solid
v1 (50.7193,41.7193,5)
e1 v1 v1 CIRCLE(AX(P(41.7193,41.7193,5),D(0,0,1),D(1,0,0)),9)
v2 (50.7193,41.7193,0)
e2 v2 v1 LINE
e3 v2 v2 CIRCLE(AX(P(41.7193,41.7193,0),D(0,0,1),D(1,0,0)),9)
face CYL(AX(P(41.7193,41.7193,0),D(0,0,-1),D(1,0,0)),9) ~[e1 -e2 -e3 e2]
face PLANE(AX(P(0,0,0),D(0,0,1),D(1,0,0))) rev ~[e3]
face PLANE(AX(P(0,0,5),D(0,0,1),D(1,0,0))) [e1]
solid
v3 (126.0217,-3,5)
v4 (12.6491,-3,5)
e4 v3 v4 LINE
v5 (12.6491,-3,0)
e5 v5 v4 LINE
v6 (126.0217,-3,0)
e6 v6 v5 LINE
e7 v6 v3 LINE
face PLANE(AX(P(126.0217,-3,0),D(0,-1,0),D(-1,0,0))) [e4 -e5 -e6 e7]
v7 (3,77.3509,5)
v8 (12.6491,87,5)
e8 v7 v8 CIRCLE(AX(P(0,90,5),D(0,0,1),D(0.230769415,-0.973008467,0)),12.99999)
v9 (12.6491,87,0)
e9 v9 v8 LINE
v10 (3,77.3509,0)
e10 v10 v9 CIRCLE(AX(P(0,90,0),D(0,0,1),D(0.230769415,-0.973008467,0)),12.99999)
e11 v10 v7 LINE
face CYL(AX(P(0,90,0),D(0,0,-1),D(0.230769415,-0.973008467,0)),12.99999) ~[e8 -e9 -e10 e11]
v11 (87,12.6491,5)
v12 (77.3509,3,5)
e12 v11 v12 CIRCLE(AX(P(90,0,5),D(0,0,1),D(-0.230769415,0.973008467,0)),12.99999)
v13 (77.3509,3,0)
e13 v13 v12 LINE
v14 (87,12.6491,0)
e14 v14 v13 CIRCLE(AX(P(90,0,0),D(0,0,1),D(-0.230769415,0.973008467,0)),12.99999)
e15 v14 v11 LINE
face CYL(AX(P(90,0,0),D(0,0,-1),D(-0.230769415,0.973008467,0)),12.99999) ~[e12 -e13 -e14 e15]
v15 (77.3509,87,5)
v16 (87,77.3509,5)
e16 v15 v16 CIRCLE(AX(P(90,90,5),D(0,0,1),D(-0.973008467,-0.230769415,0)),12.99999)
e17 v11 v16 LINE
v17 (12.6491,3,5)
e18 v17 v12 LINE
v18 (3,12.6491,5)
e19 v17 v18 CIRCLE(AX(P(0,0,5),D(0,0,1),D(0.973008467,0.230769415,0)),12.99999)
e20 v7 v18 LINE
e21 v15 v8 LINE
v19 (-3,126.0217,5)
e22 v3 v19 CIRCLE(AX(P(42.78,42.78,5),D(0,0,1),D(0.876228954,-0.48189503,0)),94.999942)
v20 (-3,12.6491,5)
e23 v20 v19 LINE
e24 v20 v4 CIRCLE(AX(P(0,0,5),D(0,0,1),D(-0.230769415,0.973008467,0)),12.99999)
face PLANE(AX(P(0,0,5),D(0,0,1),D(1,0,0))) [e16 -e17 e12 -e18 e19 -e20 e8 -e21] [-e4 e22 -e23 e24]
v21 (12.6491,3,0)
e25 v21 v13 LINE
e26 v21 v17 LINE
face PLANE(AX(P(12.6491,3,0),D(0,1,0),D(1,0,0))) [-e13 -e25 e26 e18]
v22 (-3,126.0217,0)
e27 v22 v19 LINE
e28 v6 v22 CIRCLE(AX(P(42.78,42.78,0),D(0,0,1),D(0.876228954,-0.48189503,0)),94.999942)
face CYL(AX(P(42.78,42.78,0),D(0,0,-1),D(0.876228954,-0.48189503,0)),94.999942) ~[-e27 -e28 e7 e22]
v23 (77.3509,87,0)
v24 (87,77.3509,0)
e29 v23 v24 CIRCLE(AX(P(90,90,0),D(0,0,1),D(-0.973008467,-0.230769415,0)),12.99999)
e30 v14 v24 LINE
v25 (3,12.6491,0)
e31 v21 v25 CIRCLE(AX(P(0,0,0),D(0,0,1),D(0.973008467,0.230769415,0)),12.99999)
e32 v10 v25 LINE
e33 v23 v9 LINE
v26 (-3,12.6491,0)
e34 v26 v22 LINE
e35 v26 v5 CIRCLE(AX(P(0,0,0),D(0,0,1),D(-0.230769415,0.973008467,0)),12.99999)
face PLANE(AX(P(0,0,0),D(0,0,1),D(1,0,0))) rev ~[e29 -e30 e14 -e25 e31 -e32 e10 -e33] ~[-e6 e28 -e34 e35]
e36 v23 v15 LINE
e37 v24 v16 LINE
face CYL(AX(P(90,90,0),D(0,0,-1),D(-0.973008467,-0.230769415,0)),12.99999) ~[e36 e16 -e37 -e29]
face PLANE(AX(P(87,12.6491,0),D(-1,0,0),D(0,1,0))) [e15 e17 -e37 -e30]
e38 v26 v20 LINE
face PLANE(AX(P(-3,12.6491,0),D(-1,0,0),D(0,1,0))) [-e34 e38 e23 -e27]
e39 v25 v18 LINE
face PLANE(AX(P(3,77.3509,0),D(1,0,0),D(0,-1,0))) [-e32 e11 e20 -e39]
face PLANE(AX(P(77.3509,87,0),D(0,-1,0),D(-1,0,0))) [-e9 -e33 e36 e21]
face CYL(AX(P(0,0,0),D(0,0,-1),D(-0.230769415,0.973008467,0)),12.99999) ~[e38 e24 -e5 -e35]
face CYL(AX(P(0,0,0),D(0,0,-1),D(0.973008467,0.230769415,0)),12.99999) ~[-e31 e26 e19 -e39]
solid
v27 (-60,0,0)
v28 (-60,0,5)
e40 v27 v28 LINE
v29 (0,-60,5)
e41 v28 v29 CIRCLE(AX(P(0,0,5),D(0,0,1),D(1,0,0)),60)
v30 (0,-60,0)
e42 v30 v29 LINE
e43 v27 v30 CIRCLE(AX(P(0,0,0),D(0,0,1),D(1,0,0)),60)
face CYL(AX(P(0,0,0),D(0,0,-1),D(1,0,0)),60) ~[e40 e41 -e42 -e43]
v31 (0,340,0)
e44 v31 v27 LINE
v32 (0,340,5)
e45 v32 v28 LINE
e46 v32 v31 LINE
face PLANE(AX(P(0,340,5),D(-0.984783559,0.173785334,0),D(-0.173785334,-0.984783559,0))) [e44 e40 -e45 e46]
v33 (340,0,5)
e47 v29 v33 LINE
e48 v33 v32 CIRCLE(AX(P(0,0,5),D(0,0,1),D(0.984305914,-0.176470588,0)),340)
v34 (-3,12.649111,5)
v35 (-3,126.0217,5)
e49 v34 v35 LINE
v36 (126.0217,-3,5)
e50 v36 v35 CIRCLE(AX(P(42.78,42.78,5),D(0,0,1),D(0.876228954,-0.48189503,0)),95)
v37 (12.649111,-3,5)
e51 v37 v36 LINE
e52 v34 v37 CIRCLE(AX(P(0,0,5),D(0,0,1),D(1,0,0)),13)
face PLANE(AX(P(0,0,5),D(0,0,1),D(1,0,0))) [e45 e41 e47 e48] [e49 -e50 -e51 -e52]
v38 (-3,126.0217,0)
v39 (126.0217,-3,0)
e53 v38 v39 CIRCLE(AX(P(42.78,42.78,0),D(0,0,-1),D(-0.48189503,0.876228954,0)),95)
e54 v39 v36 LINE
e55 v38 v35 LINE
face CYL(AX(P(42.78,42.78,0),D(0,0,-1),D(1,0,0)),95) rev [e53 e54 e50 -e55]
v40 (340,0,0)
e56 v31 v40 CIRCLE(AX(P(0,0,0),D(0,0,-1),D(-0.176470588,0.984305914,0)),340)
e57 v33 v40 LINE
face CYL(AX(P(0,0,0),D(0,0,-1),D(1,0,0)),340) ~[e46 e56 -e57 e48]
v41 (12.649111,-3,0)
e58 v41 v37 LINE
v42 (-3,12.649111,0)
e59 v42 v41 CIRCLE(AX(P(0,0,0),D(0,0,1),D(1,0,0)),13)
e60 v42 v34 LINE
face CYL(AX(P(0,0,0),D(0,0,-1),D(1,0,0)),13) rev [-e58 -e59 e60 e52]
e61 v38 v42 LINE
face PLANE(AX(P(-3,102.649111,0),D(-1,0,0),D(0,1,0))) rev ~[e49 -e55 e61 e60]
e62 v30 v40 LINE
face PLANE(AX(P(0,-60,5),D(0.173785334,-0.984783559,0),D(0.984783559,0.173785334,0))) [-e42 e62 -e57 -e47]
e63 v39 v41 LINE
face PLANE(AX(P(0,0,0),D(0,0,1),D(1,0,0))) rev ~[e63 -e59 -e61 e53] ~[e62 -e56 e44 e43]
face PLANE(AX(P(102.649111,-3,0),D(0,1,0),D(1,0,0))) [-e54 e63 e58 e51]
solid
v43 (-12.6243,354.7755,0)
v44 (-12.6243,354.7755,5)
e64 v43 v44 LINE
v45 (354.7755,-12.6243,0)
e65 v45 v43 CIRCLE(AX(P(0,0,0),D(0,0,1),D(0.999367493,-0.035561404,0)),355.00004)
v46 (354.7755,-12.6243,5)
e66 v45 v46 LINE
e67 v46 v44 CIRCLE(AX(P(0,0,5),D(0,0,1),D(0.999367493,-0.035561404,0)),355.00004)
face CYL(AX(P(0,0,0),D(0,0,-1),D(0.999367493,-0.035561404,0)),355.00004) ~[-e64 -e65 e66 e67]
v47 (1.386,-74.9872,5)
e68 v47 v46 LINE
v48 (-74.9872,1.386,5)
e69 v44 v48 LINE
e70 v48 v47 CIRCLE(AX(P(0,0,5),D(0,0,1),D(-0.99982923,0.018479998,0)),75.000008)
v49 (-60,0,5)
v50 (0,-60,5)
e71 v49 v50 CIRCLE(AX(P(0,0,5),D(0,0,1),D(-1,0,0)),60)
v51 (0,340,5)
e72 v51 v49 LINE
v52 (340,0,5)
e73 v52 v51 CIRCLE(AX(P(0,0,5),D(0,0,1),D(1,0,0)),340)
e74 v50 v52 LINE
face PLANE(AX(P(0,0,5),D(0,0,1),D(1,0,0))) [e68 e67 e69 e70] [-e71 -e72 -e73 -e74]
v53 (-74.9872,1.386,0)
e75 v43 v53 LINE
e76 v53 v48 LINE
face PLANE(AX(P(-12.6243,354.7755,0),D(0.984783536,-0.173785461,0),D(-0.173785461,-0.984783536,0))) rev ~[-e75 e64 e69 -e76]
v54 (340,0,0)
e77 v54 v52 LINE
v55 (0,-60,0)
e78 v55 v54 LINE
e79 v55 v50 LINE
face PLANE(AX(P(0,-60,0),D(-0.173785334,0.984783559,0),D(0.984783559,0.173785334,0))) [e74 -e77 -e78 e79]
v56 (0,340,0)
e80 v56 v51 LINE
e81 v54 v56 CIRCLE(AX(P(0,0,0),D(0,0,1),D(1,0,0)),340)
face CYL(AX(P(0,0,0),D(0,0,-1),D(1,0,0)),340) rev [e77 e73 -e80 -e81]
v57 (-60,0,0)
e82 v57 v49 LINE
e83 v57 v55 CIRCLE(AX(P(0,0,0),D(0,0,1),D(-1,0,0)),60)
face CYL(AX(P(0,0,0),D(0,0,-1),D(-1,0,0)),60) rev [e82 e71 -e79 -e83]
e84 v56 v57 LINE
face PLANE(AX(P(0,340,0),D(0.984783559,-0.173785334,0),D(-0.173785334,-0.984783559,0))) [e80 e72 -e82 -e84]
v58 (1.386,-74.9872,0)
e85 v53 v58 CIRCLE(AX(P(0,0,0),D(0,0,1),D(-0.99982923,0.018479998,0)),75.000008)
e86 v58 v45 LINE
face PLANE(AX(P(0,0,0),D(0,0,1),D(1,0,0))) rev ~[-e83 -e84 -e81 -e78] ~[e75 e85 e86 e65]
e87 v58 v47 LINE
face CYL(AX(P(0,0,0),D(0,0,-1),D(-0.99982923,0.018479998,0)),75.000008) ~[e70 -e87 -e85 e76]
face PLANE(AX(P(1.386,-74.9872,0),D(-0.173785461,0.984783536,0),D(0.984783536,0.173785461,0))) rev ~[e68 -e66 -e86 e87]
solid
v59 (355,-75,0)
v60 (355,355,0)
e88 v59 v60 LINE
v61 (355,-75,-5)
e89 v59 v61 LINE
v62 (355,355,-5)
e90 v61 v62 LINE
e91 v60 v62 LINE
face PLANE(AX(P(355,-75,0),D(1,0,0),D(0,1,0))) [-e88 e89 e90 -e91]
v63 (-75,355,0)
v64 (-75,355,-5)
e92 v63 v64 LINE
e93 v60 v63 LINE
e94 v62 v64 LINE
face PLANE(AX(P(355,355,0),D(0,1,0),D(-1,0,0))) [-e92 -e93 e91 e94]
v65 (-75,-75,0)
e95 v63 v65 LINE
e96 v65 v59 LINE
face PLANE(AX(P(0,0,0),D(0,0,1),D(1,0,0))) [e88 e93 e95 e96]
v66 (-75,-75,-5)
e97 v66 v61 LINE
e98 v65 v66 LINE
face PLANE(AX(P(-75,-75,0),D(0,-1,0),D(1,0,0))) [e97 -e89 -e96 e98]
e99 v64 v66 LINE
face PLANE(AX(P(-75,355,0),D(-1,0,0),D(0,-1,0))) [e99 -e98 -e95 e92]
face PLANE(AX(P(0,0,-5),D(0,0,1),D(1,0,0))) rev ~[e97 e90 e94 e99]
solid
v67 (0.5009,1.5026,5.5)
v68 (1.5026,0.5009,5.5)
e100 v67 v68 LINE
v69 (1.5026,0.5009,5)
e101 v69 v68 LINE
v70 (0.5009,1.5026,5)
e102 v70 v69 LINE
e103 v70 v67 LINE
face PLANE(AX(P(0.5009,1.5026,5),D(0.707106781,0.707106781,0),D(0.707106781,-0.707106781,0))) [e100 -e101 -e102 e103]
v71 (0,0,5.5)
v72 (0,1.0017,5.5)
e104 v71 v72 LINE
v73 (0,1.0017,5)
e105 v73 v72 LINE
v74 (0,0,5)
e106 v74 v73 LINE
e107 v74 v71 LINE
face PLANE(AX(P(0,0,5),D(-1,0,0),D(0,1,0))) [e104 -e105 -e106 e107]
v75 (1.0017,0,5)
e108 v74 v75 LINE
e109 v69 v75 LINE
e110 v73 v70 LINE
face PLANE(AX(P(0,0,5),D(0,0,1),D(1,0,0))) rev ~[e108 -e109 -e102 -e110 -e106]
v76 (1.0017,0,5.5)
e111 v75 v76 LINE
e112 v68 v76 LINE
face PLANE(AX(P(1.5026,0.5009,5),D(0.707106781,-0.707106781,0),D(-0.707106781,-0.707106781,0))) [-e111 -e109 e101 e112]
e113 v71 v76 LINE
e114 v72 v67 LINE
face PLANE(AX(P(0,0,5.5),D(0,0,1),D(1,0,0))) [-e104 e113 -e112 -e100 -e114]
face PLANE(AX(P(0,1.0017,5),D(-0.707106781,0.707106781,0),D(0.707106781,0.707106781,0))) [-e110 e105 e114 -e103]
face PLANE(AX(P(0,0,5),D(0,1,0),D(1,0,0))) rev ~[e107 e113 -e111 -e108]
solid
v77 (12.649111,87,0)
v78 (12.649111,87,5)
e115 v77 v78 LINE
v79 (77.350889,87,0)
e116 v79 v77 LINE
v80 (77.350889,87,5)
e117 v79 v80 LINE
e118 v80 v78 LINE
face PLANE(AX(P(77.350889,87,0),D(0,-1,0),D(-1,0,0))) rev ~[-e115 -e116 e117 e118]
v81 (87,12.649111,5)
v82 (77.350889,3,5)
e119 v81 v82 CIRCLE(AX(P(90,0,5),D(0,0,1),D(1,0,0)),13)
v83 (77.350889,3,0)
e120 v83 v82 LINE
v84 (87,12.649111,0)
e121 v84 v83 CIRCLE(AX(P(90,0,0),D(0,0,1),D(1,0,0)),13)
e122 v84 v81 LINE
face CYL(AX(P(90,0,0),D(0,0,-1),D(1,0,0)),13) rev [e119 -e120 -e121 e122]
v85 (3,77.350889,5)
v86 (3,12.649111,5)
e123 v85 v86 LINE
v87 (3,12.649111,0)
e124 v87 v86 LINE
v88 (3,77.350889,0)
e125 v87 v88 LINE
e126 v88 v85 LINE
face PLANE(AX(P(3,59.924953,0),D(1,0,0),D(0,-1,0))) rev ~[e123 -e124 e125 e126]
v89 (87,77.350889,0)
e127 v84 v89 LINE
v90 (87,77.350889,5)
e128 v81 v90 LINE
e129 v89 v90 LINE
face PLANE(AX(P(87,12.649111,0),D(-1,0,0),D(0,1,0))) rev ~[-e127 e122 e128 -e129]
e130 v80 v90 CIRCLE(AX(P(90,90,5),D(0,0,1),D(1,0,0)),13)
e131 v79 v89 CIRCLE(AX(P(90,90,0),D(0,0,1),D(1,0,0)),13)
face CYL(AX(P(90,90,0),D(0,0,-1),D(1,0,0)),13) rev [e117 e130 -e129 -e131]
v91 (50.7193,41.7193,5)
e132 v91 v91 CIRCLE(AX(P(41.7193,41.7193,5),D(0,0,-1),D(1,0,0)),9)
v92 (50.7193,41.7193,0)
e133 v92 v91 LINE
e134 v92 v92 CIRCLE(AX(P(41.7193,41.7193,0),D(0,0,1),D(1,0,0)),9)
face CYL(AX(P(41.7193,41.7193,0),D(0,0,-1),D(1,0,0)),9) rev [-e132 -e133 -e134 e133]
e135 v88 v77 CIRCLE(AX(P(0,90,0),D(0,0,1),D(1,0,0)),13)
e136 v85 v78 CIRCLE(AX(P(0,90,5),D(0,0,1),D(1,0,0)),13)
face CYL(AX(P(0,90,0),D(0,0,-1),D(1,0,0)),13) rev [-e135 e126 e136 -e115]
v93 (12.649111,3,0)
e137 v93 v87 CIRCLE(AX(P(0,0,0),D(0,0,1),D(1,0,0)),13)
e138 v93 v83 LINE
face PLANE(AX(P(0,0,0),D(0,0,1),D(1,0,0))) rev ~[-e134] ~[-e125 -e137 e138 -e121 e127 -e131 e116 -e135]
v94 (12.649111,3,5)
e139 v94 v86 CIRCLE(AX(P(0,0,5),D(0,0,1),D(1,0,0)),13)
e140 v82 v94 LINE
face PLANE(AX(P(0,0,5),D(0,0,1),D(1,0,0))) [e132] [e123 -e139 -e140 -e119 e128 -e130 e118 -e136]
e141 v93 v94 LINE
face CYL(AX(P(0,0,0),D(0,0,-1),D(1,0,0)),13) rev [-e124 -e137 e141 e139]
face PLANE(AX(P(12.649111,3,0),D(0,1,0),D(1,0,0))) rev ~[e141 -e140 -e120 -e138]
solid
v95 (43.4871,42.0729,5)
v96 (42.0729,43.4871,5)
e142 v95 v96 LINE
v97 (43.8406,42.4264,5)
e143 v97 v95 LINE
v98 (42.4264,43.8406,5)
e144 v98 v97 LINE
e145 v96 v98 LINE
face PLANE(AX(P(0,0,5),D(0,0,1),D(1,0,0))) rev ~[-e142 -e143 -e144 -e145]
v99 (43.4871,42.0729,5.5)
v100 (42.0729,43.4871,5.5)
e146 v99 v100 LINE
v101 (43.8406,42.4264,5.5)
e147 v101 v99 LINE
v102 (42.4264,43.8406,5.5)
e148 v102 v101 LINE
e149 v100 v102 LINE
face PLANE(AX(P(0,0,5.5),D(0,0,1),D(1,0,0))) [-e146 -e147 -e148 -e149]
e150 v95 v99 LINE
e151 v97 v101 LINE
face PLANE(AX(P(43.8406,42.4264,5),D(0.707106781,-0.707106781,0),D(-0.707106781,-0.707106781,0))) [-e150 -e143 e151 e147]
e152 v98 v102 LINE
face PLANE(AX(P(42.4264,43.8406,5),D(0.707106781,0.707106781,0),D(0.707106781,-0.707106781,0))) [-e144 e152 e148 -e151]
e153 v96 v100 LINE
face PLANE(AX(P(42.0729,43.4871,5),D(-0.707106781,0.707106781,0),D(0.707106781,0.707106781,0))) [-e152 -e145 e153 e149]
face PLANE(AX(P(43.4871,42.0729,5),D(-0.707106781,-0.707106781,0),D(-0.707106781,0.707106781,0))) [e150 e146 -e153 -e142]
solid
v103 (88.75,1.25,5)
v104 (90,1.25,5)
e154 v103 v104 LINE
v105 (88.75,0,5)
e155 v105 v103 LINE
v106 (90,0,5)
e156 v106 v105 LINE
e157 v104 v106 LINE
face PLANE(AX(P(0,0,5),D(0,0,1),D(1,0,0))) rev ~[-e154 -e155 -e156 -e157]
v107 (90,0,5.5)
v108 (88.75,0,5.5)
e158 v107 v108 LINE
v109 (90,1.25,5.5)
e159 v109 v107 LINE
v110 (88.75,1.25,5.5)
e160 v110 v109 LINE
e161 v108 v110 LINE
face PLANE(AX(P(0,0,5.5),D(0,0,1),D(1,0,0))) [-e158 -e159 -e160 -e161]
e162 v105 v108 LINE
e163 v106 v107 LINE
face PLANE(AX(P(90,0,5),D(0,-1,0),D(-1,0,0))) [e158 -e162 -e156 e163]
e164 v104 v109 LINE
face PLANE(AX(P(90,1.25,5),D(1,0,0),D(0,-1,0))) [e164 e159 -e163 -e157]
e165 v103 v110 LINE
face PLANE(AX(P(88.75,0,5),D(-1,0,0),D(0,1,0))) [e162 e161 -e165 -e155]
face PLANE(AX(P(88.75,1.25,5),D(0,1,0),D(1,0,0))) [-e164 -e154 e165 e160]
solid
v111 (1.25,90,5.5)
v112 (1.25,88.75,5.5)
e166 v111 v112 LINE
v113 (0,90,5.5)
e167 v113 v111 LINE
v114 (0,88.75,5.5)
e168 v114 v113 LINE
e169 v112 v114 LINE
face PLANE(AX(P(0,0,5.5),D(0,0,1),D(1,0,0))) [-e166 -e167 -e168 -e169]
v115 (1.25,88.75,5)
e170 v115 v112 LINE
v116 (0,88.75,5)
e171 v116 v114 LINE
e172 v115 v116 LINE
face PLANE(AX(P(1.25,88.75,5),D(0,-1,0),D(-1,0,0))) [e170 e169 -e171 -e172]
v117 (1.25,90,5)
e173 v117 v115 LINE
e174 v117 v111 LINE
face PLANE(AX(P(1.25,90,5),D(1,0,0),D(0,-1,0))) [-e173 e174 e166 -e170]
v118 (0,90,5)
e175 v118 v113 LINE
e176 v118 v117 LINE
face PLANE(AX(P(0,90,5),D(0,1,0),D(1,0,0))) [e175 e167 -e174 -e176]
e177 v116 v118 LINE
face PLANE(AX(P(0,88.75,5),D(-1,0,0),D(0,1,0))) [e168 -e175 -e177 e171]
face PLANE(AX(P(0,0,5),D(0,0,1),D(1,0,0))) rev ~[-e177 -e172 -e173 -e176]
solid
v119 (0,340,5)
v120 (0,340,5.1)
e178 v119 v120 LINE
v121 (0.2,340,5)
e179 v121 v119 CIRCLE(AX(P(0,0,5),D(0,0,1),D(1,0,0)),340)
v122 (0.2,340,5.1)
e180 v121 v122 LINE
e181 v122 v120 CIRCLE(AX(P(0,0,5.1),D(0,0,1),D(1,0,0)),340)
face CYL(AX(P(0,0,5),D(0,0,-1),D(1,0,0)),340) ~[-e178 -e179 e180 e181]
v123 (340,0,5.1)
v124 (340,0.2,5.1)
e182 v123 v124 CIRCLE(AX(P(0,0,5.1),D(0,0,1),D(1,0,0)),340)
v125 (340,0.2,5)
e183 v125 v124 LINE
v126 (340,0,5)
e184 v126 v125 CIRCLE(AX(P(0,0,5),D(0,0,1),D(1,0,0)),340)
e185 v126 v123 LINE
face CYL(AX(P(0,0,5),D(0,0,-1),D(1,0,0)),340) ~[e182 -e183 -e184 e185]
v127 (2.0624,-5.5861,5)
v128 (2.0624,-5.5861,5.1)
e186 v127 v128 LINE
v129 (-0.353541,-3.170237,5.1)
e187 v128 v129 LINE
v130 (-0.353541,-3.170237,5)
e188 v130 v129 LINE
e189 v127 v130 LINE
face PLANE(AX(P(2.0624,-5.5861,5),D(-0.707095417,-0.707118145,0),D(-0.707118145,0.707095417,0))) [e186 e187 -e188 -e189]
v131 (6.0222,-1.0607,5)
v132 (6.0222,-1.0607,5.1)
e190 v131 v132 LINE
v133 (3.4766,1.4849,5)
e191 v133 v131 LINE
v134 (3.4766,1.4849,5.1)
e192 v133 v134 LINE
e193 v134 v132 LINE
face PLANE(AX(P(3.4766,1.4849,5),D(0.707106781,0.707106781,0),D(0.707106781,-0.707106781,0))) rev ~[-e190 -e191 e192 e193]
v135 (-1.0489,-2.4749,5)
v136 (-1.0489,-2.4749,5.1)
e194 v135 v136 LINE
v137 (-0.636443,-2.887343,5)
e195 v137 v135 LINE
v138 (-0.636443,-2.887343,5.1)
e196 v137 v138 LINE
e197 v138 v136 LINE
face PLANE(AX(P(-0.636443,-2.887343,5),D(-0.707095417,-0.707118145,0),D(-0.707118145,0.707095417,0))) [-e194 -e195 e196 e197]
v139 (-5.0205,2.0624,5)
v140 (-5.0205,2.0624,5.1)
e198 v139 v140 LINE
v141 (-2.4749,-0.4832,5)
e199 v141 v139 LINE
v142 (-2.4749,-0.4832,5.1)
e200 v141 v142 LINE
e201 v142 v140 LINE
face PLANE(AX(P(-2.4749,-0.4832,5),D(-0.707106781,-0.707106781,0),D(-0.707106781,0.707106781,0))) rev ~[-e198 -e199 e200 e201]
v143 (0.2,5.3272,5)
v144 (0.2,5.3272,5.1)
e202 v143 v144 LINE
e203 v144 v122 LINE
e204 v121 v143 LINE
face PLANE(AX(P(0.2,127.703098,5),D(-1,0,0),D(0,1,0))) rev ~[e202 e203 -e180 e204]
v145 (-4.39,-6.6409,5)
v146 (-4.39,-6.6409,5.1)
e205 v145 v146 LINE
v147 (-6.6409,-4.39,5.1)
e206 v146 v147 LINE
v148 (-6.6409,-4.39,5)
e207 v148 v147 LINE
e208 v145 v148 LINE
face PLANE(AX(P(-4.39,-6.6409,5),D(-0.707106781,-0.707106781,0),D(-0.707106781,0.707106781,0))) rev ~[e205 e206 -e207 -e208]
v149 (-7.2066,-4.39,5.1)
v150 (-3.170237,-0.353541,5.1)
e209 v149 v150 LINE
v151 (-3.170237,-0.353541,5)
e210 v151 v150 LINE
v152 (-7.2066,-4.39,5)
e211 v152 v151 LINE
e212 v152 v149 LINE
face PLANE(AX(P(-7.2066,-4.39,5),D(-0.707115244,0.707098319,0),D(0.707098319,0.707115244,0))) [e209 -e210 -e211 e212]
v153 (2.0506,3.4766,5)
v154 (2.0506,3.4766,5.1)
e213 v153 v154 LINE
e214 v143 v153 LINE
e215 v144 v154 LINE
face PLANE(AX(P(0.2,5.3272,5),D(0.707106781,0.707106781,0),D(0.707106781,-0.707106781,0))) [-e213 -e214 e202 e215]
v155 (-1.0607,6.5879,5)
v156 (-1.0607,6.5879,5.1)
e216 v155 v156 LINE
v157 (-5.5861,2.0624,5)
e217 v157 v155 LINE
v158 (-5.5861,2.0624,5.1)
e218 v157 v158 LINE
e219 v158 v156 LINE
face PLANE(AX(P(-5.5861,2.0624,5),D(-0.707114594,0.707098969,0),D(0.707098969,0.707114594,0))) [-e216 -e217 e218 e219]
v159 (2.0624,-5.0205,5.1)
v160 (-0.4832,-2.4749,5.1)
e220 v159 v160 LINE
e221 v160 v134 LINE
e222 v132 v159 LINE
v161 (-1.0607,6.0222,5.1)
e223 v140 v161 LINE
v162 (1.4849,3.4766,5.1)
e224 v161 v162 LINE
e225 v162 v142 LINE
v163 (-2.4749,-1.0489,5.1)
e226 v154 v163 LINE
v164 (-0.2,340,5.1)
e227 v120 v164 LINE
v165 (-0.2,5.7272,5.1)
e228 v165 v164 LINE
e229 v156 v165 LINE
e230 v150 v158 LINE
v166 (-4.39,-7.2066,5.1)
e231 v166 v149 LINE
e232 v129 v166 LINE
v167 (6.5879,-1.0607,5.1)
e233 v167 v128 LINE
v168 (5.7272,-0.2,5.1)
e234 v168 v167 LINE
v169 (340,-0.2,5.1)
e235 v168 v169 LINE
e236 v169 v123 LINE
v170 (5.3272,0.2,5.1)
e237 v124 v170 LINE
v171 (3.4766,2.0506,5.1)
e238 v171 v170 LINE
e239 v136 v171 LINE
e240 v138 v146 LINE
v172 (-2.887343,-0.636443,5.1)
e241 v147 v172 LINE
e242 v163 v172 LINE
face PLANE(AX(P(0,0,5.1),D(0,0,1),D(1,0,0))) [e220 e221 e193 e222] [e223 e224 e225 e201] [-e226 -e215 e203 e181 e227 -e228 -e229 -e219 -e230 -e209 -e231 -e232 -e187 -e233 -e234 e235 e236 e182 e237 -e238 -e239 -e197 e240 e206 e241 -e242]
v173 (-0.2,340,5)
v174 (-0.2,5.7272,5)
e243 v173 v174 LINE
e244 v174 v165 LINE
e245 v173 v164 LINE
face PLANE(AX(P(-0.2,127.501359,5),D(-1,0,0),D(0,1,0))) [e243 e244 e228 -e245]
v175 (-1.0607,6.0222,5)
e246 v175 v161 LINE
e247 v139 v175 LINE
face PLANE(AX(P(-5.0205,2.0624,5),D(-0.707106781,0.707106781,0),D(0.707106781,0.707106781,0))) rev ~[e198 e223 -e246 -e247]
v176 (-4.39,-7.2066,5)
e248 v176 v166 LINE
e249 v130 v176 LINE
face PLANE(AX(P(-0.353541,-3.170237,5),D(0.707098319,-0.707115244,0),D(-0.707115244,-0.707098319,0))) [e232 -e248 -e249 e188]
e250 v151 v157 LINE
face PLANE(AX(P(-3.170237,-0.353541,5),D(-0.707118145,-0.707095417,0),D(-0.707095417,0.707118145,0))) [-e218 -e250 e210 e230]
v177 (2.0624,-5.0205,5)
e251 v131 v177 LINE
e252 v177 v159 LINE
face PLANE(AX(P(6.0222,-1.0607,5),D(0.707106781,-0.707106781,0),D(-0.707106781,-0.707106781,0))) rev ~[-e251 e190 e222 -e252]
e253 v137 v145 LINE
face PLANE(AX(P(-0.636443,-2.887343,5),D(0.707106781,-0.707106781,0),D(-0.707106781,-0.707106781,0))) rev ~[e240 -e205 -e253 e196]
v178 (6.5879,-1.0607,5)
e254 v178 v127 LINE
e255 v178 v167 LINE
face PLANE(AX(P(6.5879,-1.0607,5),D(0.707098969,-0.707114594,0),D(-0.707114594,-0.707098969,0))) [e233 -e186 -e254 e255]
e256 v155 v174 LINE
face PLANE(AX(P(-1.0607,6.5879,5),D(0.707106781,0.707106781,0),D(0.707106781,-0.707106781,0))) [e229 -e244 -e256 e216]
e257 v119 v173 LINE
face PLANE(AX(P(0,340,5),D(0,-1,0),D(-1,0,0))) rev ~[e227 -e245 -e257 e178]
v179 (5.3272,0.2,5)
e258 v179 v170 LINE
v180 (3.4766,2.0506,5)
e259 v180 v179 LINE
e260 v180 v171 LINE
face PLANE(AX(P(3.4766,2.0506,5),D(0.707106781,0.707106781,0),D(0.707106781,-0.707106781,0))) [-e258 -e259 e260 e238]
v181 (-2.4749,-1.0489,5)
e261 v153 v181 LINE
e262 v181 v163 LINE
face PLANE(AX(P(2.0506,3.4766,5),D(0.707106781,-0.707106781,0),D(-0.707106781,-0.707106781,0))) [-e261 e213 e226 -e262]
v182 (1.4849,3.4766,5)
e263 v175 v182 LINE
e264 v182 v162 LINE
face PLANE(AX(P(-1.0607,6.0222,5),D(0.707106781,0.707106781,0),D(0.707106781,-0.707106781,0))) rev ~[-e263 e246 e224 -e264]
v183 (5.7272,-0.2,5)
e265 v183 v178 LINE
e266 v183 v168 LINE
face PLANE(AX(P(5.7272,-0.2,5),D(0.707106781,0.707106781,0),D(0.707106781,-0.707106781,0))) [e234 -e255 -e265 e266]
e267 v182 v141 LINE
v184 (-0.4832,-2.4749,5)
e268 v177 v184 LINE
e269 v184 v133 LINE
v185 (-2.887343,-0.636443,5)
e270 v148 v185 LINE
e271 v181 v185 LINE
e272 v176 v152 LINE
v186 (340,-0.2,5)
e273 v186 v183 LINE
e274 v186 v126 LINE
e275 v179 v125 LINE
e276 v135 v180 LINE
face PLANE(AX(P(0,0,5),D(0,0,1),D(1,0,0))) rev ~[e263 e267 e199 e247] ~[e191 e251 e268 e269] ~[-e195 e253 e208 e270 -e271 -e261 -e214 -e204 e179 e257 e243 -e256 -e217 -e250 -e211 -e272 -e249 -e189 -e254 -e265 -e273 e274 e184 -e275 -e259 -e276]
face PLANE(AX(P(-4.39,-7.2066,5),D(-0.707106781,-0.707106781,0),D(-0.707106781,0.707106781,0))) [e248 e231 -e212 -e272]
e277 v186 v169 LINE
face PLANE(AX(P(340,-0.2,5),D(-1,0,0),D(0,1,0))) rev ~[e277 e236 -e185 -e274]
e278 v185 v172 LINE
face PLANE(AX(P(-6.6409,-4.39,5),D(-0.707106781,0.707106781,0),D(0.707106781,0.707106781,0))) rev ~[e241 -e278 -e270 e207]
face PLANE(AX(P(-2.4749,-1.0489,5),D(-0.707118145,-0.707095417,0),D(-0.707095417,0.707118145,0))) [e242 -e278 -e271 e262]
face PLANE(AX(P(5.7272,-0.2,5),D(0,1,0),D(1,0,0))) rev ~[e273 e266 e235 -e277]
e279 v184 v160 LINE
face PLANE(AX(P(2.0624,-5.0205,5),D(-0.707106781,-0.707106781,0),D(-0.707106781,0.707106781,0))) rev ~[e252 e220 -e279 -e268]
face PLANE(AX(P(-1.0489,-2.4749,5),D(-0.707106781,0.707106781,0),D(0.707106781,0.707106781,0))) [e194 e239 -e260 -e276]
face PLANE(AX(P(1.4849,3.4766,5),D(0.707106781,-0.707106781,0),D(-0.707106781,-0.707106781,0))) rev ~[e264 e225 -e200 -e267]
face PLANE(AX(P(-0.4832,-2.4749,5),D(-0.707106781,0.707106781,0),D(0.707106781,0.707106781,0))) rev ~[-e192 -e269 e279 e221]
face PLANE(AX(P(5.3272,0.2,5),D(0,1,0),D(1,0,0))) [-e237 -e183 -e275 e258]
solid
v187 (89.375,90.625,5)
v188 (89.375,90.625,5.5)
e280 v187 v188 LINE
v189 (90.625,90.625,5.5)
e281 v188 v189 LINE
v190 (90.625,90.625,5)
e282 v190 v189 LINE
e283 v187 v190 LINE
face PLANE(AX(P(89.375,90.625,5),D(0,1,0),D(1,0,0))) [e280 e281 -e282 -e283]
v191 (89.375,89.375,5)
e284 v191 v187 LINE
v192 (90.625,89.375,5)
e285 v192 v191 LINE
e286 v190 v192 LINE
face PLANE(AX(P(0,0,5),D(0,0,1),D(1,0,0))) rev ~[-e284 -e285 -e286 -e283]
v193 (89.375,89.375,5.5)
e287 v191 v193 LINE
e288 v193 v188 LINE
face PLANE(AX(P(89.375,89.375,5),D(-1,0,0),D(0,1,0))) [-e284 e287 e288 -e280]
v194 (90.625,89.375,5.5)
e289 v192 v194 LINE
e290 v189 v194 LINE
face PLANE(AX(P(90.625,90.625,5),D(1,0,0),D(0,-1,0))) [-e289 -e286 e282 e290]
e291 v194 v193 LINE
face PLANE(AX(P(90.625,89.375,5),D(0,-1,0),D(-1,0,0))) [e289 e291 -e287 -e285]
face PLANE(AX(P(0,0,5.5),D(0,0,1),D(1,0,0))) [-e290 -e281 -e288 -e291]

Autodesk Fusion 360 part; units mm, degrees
sketch "Base Sketch" plane through (0, 0, 0) normal (0, 0, 1) x (1, 0, 0)
  line L0 (-60, -60) -> (340, -60)
  line L1 (340, -60) -> (340, 340)
  line L2 (340, 340) -> (-60, 340)
  line L3 (-60, 340) -> (-60, -60)
  circle A0 centre (0, 0) radius 60
  circle A1 centre (0, 0) radius 340
  line L4 (0, 0) -> (90, 0)
  line L5 (90, 0) -> (90, 90)
  line L6 (90, 90) -> (0, 90)
  line L7 (0, 90) -> (0, 0)
  circle A2 centre (0, 0) radius 13
  circle A3 centre (90, 0) radius 13
  circle A4 centre (90, 90) radius 13
  circle A5 centre (0, 90) radius 13
  line L8 (-3, 93) -> (-3, -3)
  line L9 (-3, -3) -> (93, -3)
  line L10 (93, -3) -> (93, 93)
  line L11 (93, 93) -> (-3, 93)
  line L12 (3, 87) -> (3, 3)
  line L13 (3, 3) -> (87, 3)
  line L14 (87, 3) -> (87, 87)
  line L15 (87, 87) -> (3, 87)
  line L16 (90, 90) -> (0, 0) construction
  circle A6 centre (41.7193, 41.7193) radius 9
  circle A7 centre (42.78, 42.78) radius 95
  line L17 (-3, 93) -> (-3, 126.0217)
  line L18 (93, -3) -> (126.0217, -3)
  line L19 (0, 0) -> (340, 0) construction
  line L20 (0, 0) -> (0, 340) construction
  point P0 (42.78, 42.78)
  point P1 (-3, 12.6491)
  point P2 (12.6491, -3)
  dimension "d3" = 400
  dimension "d4" = 400
  dimension "d5" = 120
  dimension "d6" = 90
  dimension "d7" = 90
  dimension "d8" = 26
  dimension "d9" = 26
  dimension "d10" = 26
  dimension "d11" = 26
  dimension "d12" = 3
  dimension "d13" = -3
  dimension "d14" = 18
  dimension "d15" = 59
  dimension "d16" = 1.5
  dimension "d17" = 190
extrude "Extrude1" add sketch "Base Sketch" along normal blind 5 contours L0 L3 A0 A1 A7 | A0 A7 | A0 A2 L8 L9 A7 | A0 A3 L9 A7 L18 | A0 A5 L8 A7 L17 | A3 L9 L18 | A5 L8 L17 | A0 A2 L12 L13 A6 | A0 A3 A4 A5 L12 L13 L14 L15 A6 makes body 1 at (153.5619, -41, 0) makes body 2 at (74.8729, 44.3536, 0) in component "Grass"
sketch "Sketch1" plane through (0, 0, 5) normal (0, 0, 1) x (-1, 0, 0) in component "Grass"
  line L0 (3, -12.6491) -> (3, -126.0217)
  arc A0 (-126.0217, 3) -> (3, -126.0217) centre (-42.78, -42.78) ccw
  line L1 (-126.0217, 3) -> (-12.6491, 3)
  arc A1 (3, -12.6491) -> (-12.6491, 3) centre (0, 0) ccw
  arc A2 (-334.664, 60) -> (60, -334.664) centre (0, 0) ccw
  line L2 (60, -334.664) -> (60, 0)
  arc A3 (60, 0) -> (0, 60) centre (0, 0) ccw
  line L3 (0, 60) -> (-334.664, 60)
  line L4 (0, 0) -> (-340, 0)
  line L5 (0, 0) -> (0, -340)
  line L6 (0, 60) -> (-340, 0)
  line L7 (0, -340) -> (60, 0)
extrude "Extrude2" cut sketch "Sketch1" against normal up to surface (5 mm away) contours A2 L2 L7 | A2 L3 L6 bodies 1 in component "Grass"
sketch "Sketch1 (2)" plane through (0, 0, 0) normal (0, 0, 1) x (1, 0, 0) in component "Earth"
  line L0 (-60, -60) -> (340, -60)
  line L1 (340, -60) -> (340, 340)
  line L2 (340, 340) -> (-60, 340)
  line L3 (-60, 340) -> (-60, -60)
  line L4 (-75, 355) -> (-75, -75)
  line L5 (-75, -75) -> (355, -75)
  line L6 (355, -75) -> (355, 355)
  line L7 (355, 355) -> (-75, 355)
  dimension "d23" = 400
  dimension "d24" = 400
  dimension "d30" = 15
  dimension "d34" = 60
  dimension "d35" = 60
extrude "Extrude1'" add sketch "Sketch1 (2)" against normal blind 5 separate body contours L0 L1 L2 L3 | L4 L5 L6 L7 makes body 3 in component "Earth"
sketch "Sketch4" plane through (0, 0, 0) normal (0, 0, 1) x (1, 0, 0) in component "Dirt"
  line L0 (0, -60) -> (340, 0)
  arc A0 (340, 0) -> (0, 340) centre (0, 0) ccw
  line L1 (0, 340) -> (-60, 0)
  arc A1 (-60, 0) -> (0, -60) centre (0, 0) ccw
  line L2 (-3, 12.6491) -> (-3, 126.0217)
  arc A2 (126.0217, -3) -> (-3, 126.0217) centre (42.78, 42.78) ccw
  line L3 (126.0217, -3) -> (12.6491, -3)
  arc A3 (-3, 12.6491) -> (12.6491, -3) centre (0, 0) ccw
  circle A4 centre (41.7193, 41.7193) radius 9
  line L4 (3, 77.3509) -> (3, 12.6491)
  arc A5 (12.6491, 3) -> (3, 12.6491) centre (0, 0) ccw
  line L5 (12.6491, 3) -> (77.3509, 3)
  arc A6 (87, 12.6491) -> (77.3509, 3) centre (90, 0) ccw
  line L6 (87, 12.6491) -> (87, 77.3509)
  arc A7 (77.3509, 87) -> (87, 77.3509) centre (90, 90) ccw
  line L7 (77.3509, 87) -> (12.6491, 87)
  arc A8 (3, 77.3509) -> (12.6491, 87) centre (0, 90) ccw
  arc A9 (-74.9872, 1.386) -> (1.386, -74.9872) centre (0, 0) ccw
  line L8 (1.386, -74.9872) -> (354.7755, -12.6243)
  arc A10 (354.7755, -12.6243) -> (-12.6243, 354.7755) centre (0, 0) ccw
  line L9 (-12.6243, 354.7755) -> (-74.9872, 1.386)
  dimension "d31" = 15
extrude "Extrude1''" add sketch "Sketch4" along normal blind 5 separate body makes body 4 at (232.0538, -29.2038, 0) makes body 5 at (103.8497, 46.4661, 0) makes body 6 at (50.7081, 41.2707, 3.3333) in component "Dirt"
ref_plane "WorkPlane1" through (0, 0, 5) normal (0, 0, 1) x (1, 0, 0) in component "Bases"
sketch "Sketch1 (3)" plane through (0, 0, 5) normal (0, 0, 1) x (1, 0, 0) in component "Bases"
  line L0 (77.3509, 3) -> (12.6491, 3)
  arc A0 (12.6491, 3) -> (3, 12.6491) centre (0, 0) ccw
  line L1 (3, 12.6491) -> (3, 77.3509)
  arc A1 (3, 77.3509) -> (12.6491, 87) centre (0, 90) ccw
  line L2 (12.6491, 87) -> (77.3509, 87)
  arc A2 (77.3509, 87) -> (87, 77.3509) centre (90, 90) ccw
  line L3 (87, 77.3509) -> (87, 12.6491)
  arc A3 (87, 12.6491) -> (77.3509, 3) centre (90, 0) ccw
  arc A4 (126.0217, -3) -> (-3, 126.0217) centre (42.78, 42.78) ccw
  line L4 (-3, 126.0217) -> (-3, 12.6491)
  arc A5 (-3, 12.6491) -> (12.6491, -3) centre (0, 0) ccw
  line L5 (12.6491, -3) -> (126.0217, -3)
  circle A6 centre (41.7193, 41.7193) radius 9
  line L6 (90, 0) -> (88.75, 0)
  line L7 (88.75, 0) -> (88.75, 1.25)
  line L8 (88.75, 1.25) -> (90, 1.25)
  line L9 (90, 1.25) -> (90, 0)
  line L10 (0, 90) -> (1.25, 90)
  line L11 (1.25, 90) -> (1.25, 88.75)
  line L12 (1.25, 88.75) -> (0, 88.75)
  line L13 (0, 88.75) -> (0, 90)
  line L14 (90.625, 89.375) -> (89.375, 89.375)
  line L15 (89.375, 89.375) -> (89.375, 90.625)
  line L16 (89.375, 90.625) -> (90.625, 90.625)
  line L17 (90.625, 90.625) -> (90.625, 89.375)
  line L18 (90.625, 89.375) -> (89.375, 90.625) construction
  line L19 (89.375, 89.375) -> (90.625, 90.625) construction
  line L20 (42.78, 42.78) -> (41.7193, 41.7193) construction
  line L21 (42.78, 42.78) -> (43.4871, 42.0729) construction
  line L22 (42.78, 42.78) -> (42.0729, 43.4871) construction
  line L23 (43.4871, 42.0729) -> (42.0729, 43.4871)
  line L24 (42.0729, 43.4871) -> (42.4264, 43.8406)
  line L25 (42.4264, 43.8406) -> (43.8406, 42.4264)
  line L26 (43.8406, 42.4264) -> (43.4871, 42.0729)
  line L27 (0, 0) -> (41.7193, 41.7193) construction
  line L28 (0, 0) -> (0, 1.0017)
  line L29 (0, 1.0017) -> (0.5009, 1.5026)
  line L30 (0.5009, 1.5026) -> (1.5026, 0.5009)
  line L31 (1.5026, 0.5009) -> (1.0017, 0)
  line L32 (0, 0) -> (1.0017, 0)
  point P0 (90, 90)
  dimension "d40" = 1.25
  dimension "d41" = 1.25
  dimension "d42" = 1.25
  dimension "d43" = 1.25
  dimension "d44" = 1.25
  dimension "d45" = 1.25
  dimension "d48" = 1
  dimension "d49" = 1
  dimension "d50" = 0.5
  dimension "d51" = 0.7083
  dimension "d52" = 1.4167
extrude "Extrude1'''" add sketch "Sketch1 (3)" along normal blind 0.5 separate body contours L6 L7 L8 L9 | L10 L11 L12 L13 | L14 L15 L16 L17 | L23 L24 L25 L26 | L28 L29 L30 L31 L32 makes body 7 at (43.0157, 42.5443, 5.1667) makes body 8 at (89.5833, 0.4167, 5) makes body 9 at (90.2083, 89.7917, 5) makes body 10 at (0.3339, 0.3339, 5) makes body 11 at (0.4167, 89.5833, 5) in component "Bases"
ref_plane "WorkPlane1" through (0, 0, 5) normal (0, 0, 1) x (1, 0, 0) in component "Lines"
sketch "Lines Sketch" plane through (0, 0, 5) normal (0, 0, 1) x (1, 0, 0) in component "Lines"
  circle A0 centre (41.7193, 41.7193) radius 9
  line L0 (3, 77.3509) -> (3, 12.6491)
  arc A1 (12.6491, 3) -> (3, 12.6491) centre (0, 0) ccw
  line L1 (12.6491, 3) -> (77.3509, 3)
  arc A2 (87, 12.6491) -> (77.3509, 3) centre (90, 0) ccw
  line L2 (87, 12.6491) -> (87, 77.3509)
  arc A3 (77.3509, 87) -> (87, 77.3509) centre (90, 90) ccw
  line L3 (77.3509, 87) -> (12.6491, 87)
  arc A4 (3, 77.3509) -> (12.6491, 87) centre (0, 90) ccw
  line L4 (0, 340) -> (-60, 0)
  arc A5 (-60, 0) -> (0, -60) centre (0, 0) ccw
  line L5 (0, -60) -> (340, 0)
  arc A6 (340, 0) -> (0, 340) centre (0, 0) ccw
  line L6 (-3, 12.6491) -> (-3, 126.0217)
  arc A7 (126.0217, -3) -> (-3, 126.0217) centre (42.78, 42.78) ccw
  line L7 (126.0217, -3) -> (12.6491, -3)
  arc A8 (-3, 12.6491) -> (12.6491, -3) centre (0, 0) ccw
  line L8 (0, 0) -> (41.7193, 41.7193) construction
  line L9 (0, 1.0017) -> (0, 0)
  line L10 (0, 0) -> (1.0017, 0)
  line L11 (1.0017, 0) -> (1.5026, 0.5009)
  line L12 (1.5026, 0.5009) -> (0.5009, 1.5026)
  line L13 (0.5009, 1.5026) -> (0, 1.0017)
  line L14 (-0.766, -2.4749) -> (3.4766, 1.7678)
  line L15 (3.4766, 1.7678) -> (6.305, -1.0607)
  line L16 (6.305, -1.0607) -> (2.0624, -5.3033)
  line L17 (2.0624, -5.3033) -> (-0.766, -2.4749)
  line L18 (-1.0607, 6.305) -> (1.7678, 3.4766)
  line L19 (-5.3033, 2.0624) -> (-1.0607, 6.305)
  line L20 (1.7678, 3.4766) -> (-2.4749, -0.766)
  line L21 (-2.4749, -0.766) -> (-5.3033, 2.0624)
  line L22 (-0.3536, -2.8874) -> (-4.39, -6.9238)
  line L23 (-4.39, -6.9238) -> (-6.9238, -4.39)
  line L24 (-6.9238, -4.39) -> (-2.8874, -0.3536)
  line L25 (0, 0) -> (340, 0) construction
  line L26 (0, 0) -> (0, 340) construction
  line L27 (5.2444, 0) -> (340, 0)
  line L28 (0, 5.2444) -> (0, 340)
  line L29 (5.2444, -0.2) -> (340, -0.2)
  line L30 (5.2444, 0.2) -> (340, 0.2)
  line L31 (-0.4832, -2.4749) -> (3.4766, 1.4849)
  line L32 (3.4766, 1.4849) -> (6.0222, -1.0607)
  line L33 (6.0222, -1.0607) -> (2.0624, -5.0205)
  line L34 (2.0624, -5.0205) -> (-0.4832, -2.4749)
  line L35 (-1.0489, -2.4749) -> (3.4766, 2.0506)
  line L36 (3.4766, 2.0506) -> (6.5879, -1.0607)
  line L37 (6.5879, -1.0607) -> (2.0624, -5.5861)
  line L38 (2.0624, -5.5861) -> (-1.0489, -2.4749)
  line L39 (0.2, 5.2444) -> (0.2, 340)
  line L40 (-0.2, 5.2444) -> (-0.2, 340)
  line L41 (-2.4749, -0.4832) -> (-5.0205, 2.0624)
  line L42 (-5.0205, 2.0624) -> (-1.0607, 6.0222)
  line L43 (-1.0607, 6.0222) -> (1.4849, 3.4766)
  line L44 (1.4849, 3.4766) -> (-2.4749, -0.4832)
  line L45 (-2.4749, -1.0489) -> (-5.5861, 2.0624)
  line L46 (-5.5861, 2.0624) -> (-1.0607, 6.5879)
  line L47 (-1.0607, 6.5879) -> (2.0506, 3.4766)
  line L48 (2.0506, 3.4766) -> (-2.4749, -1.0489)
  line L49 (-0.495, -2.7459) -> (-4.39, -6.6409)
  line L50 (-4.39, -6.6409) -> (-6.6409, -4.39)
  line L51 (-6.6409, -4.39) -> (-2.7459, -0.495)
  line L52 (-0.2121, -3.0288) -> (-4.39, -7.2066)
  line L53 (-4.39, -7.2066) -> (-7.2066, -4.39)
  line L54 (-7.2066, -4.39) -> (-3.0288, -0.2121)
  line L55 (340, -0.2) -> (340, 0.2)
  line L56 (0.2, 340) -> (-0.2, 340)
  dimension "d57" = 0.5
  dimension "d58" = 4
  dimension "d59" = 6
  dimension "d60" = 3
  dimension "d61" = 4
  dimension "d62" = 6
  dimension "d63" = 3
  dimension "d65" = 0.5
  dimension "d66" = 3.5833
  dimension "d67" = 8
  dimension "d69" = 0.2
  dimension "d70" = -0.2
  dimension "d71" = 0.2
  dimension "d72" = -0.2
  dimension "d73" = 0.2
  dimension "d74" = -0.2
  dimension "d75" = 0.2
  dimension "d76" = -0.2
  dimension "d77" = 0.2
  dimension "d78" = -0.2
extrude "Extrude1''''" add sketch "Lines Sketch" along normal blind 0.1 separate body contours L4 A7 L28 L40 | A6 A7 L28 L39 L56 | L4 L40 L56 | A7 L28 L40 L47 | A7 L28 L39 L47 | A6 A7 L27 L30 L55 | L18 L20 L21 L28 L45 L47 L48 L51 | L18 L28 L40 L47 | L18 L19 L21 L40 L45 L46 L47 L54 | L5 L29 L55 | L5 A7 L27 L29 | A7 L27 L30 L36 | L18 L19 L20 L21 | A7 L27 L29 L36 | L14 L15 L17 L27 L35 L36 L38 L49 | L15 L27 L29 L36 | L15 L16 L17 L29 L36 L37 L38 L52 | L21 L24 L45 L54 | L22 L23 L24 L38 L45 L52 L53 L54 | L14 L15 L16 L17 | L22 L23 L24 L38 L45 L49 L50 L51 | L21 L24 L45 L51 | L17 L22 L38 L49 | L17 L22 L38 L52 makes body 12 in component "Lines"
ref_plane "WorkPlane2" through (0, 0, 10.6) normal (0, 0, 1) x (1, 0, 0)
sketch "Final Sketch" plane through (0, 0, 10.6) normal (0, 0, 1) x (1, 0, 0)
  line L0 (-1.0607, 6.0222) -> (1.4849, 3.4766)
  line L1 (1.4849, 3.4766) -> (-2.4749, -0.4832)
  line L2 (-2.4749, -0.4832) -> (-5.0205, 2.0624)
  line L3 (-5.0205, 2.0624) -> (-1.0607, 6.0222)
  line L4 (6.0222, -1.0607) -> (2.0624, -5.0205)
  line L5 (2.0624, -5.0205) -> (-0.4832, -2.4749)
  line L6 (-0.4832, -2.4749) -> (3.4766, 1.4849)
  line L7 (3.4766, 1.4849) -> (6.0222, -1.0607)
  line L8 (0.2, 5.3272) -> (0.2, 339.9999)
  arc A0 (0.2, 339.9999) -> (0, 340) centre (0, 0) ccw
  line L9 (0, 340) -> (-0.2, 340)
  line L10 (-0.2, 340) -> (-0.2, 5.7272)
  line L11 (-0.2, 5.7272) -> (-1.0607, 6.5879)
  line L12 (-1.0607, 6.5879) -> (-5.5861, 2.0624)
  line L13 (-5.5861, 2.0624) -> (-3.1702, -0.3536)
  line L14 (-3.1702, -0.3536) -> (-7.2066, -4.39)
  line L15 (-7.2066, -4.39) -> (-4.39, -7.2066)
  line L16 (-4.39, -7.2066) -> (-0.3536, -3.1702)
  line L17 (-0.3536, -3.1702) -> (2.0624, -5.5861)
  line L18 (2.0624, -5.5861) -> (6.5879, -1.0607)
  line L19 (6.5879, -1.0607) -> (5.7272, -0.2)
  line L20 (5.7272, -0.2) -> (340, -0.2)
  line L21 (340, -0.2) -> (340, 0)
  arc A1 (340, 0) -> (339.9999, 0.2) centre (0, 0) ccw
  line L22 (339.9999, 0.2) -> (5.3272, 0.2)
  line L23 (5.3272, 0.2) -> (3.4766, 2.0506)
  line L24 (3.4766, 2.0506) -> (-1.0489, -2.4749)
  line L25 (-1.0489, -2.4749) -> (-0.6364, -2.8874)
  line L26 (-0.6364, -2.8874) -> (-4.39, -6.6409)
  line L27 (-4.39, -6.6409) -> (-6.6409, -4.39)
  line L28 (-6.6409, -4.39) -> (-2.8874, -0.6364)
  line L29 (-2.8874, -0.6364) -> (-2.4749, -1.0489)
  line L30 (-2.4749, -1.0489) -> (2.0506, 3.4766)
  line L31 (2.0506, 3.4766) -> (0.2, 5.3272)
  line L32 (0, 340) -> (-60, 0)
  arc A2 (-60, 0) -> (0, -60) centre (0, 0) ccw
  line L33 (0, -60) -> (340, 0)
  arc A3 (340, 0) -> (0, 340) centre (0, 0) ccw
  line L34 (-3, 12.6491) -> (-3, 126.0217)
  arc A4 (126.0217, -3) -> (-3, 126.0217) centre (42.78, 42.78) ccw
  line L35 (126.0217, -3) -> (12.6491, -3)
  arc A5 (-3, 12.6491) -> (12.6491, -3) centre (0, 0) ccw
  circle A6 centre (41.7193, 41.7193) radius 9
  line L36 (3, 77.3509) -> (3, 12.6491)
  arc A7 (12.6491, 3) -> (3, 12.6491) centre (0, 0) ccw
  line L37 (12.6491, 3) -> (77.3509, 3)
  arc A8 (87, 12.6491) -> (77.3509, 3) centre (90, 0) ccw
  line L38 (87, 12.6491) -> (87, 77.3509)
  arc A9 (77.3509, 87) -> (87, 77.3509) centre (90, 90) ccw
  line L39 (77.3509, 87) -> (12.6491, 87)
  arc A10 (3, 77.3509) -> (12.6491, 87) centre (0, 90) ccw
  line L40 (43.8406, 42.4264) -> (42.4264, 43.8406)
  line L41 (42.4264, 43.8406) -> (42.0729, 43.4871)
  line L42 (42.0729, 43.4871) -> (43.4871, 42.0729)
  line L43 (43.4871, 42.0729) -> (43.8406, 42.4264)
  line L44 (0, 1.0017) -> (0, 0)
  line L45 (0, 0) -> (1.0017, 0)
  line L46 (1.0017, 0) -> (1.5026, 0.5009)
  line L47 (1.5026, 0.5009) -> (0.5009, 1.5026)
  line L48 (0.5009, 1.5026) -> (0, 1.0017)
  line L49 (90, 1.25) -> (88.75, 1.25)
  line L50 (88.75, 1.25) -> (88.75, 0)
  line L51 (88.75, 0) -> (90, 0)
  line L52 (90, 0) -> (90, 1.25)
  line L53 (90.625, 90.625) -> (89.375, 90.625)
  line L54 (89.375, 90.625) -> (89.375, 89.375)
  line L55 (89.375, 89.375) -> (90.625, 89.375)
  line L56 (90.625, 89.375) -> (90.625, 90.625)
  line L57 (0, 88.75) -> (1.25, 88.75)
  line L58 (1.25, 88.75) -> (1.25, 90)
  line L59 (1.25, 90) -> (0, 90)
  line L60 (0, 90) -> (0, 88.75)
  line L61 (355, 355) -> (-75, 355)
  line L62 (-75, 355) -> (-75, -75)
  line L63 (-75, -75) -> (355, -75)
  line L64 (355, -75) -> (355, 355)
  arc A11 (-60, 0) -> (0, -60) centre (0, 0) ccw
  line L65 (-60, 0) -> (0, 340)
  arc A12 (340, 0) -> (0, 340) centre (0, 0) ccw
  line L66 (340, 0) -> (0, -60)
  line L67 (-12.6243, 354.7755) -> (-74.9872, 1.386)
  arc A13 (-74.9872, 1.386) -> (1.386, -74.9872) centre (0, 0) ccw
  line L68 (1.386, -74.9872) -> (354.7755, -12.6243)
  arc A14 (354.7755, -12.6243) -> (-12.6243, 354.7755) centre (0, 0) ccw
component "Grass" placed x (1, 0, 0) y (0, 1, 0) z (0, 0, 1) at (0, 0, 0)
component "Earth" placed x (1, 0, 0) y (0, 1, 0) z (0, 0, 1) at (0, 0, 0)
component "Dirt" placed x (1, 0, 0) y (0, 1, 0) z (0, 0, 1) at (0, 0, 0)
component "Bases" placed x (1, 0, 0) y (0, 1, 0) z (0, 0, 1) at (0, 0, 0)
component "Lines" placed x (1, 0, 0) y (0, 1, 0) z (0, 0, 1) at (0, 0, 0)
equation "d3 = Radius + 60 mm"
equation "d4 = Radius + 60 mm"
equation "d21 = Height"
equation "d23 = Radius + 60 mm"
equation "d24 = Radius + 60 mm"
equation "d25 = -Height"
equation "d30 = Padding"
equation "d31 = Padding"
equation "d32 = Height"
equation "Height = 5 mm"
equation "Padding = 15 mm"
equation "Radius = 340 mm"
equation "d39 = Height"
equation "d51 = ( 8.5 / 12 ) * 1 mm"
equation "d52 = ( 17 / 12 ) * 1 mm"
equation "d53 = BaseHeight"
equation "BaseHeight = 0.5 mm"
equation "d56 = Height"
equation "d66 = ( 43 / 12 ) * 1 mm"
equation "LineThickness = 0.4 mm"
equation "d69 = LineThickness / 2"
equation "d70 = -LineThickness / 2"
equation "d71 = LineThickness / 2"
equation "d72 = -LineThickness / 2"
equation "d73 = LineThickness / 2"
equation "d74 = -LineThickness / 2"
equation "d75 = LineThickness / 2"
equation "d76 = -LineThickness / 2"
equation "d77 = LineThickness / 2"
equation "d78 = -LineThickness / 2"
equation "d79 = LineHeight"
equation "LineHeight = 0.1 mm"
equation "d82 = 2 * Height + BaseHeight + LineHeight"
